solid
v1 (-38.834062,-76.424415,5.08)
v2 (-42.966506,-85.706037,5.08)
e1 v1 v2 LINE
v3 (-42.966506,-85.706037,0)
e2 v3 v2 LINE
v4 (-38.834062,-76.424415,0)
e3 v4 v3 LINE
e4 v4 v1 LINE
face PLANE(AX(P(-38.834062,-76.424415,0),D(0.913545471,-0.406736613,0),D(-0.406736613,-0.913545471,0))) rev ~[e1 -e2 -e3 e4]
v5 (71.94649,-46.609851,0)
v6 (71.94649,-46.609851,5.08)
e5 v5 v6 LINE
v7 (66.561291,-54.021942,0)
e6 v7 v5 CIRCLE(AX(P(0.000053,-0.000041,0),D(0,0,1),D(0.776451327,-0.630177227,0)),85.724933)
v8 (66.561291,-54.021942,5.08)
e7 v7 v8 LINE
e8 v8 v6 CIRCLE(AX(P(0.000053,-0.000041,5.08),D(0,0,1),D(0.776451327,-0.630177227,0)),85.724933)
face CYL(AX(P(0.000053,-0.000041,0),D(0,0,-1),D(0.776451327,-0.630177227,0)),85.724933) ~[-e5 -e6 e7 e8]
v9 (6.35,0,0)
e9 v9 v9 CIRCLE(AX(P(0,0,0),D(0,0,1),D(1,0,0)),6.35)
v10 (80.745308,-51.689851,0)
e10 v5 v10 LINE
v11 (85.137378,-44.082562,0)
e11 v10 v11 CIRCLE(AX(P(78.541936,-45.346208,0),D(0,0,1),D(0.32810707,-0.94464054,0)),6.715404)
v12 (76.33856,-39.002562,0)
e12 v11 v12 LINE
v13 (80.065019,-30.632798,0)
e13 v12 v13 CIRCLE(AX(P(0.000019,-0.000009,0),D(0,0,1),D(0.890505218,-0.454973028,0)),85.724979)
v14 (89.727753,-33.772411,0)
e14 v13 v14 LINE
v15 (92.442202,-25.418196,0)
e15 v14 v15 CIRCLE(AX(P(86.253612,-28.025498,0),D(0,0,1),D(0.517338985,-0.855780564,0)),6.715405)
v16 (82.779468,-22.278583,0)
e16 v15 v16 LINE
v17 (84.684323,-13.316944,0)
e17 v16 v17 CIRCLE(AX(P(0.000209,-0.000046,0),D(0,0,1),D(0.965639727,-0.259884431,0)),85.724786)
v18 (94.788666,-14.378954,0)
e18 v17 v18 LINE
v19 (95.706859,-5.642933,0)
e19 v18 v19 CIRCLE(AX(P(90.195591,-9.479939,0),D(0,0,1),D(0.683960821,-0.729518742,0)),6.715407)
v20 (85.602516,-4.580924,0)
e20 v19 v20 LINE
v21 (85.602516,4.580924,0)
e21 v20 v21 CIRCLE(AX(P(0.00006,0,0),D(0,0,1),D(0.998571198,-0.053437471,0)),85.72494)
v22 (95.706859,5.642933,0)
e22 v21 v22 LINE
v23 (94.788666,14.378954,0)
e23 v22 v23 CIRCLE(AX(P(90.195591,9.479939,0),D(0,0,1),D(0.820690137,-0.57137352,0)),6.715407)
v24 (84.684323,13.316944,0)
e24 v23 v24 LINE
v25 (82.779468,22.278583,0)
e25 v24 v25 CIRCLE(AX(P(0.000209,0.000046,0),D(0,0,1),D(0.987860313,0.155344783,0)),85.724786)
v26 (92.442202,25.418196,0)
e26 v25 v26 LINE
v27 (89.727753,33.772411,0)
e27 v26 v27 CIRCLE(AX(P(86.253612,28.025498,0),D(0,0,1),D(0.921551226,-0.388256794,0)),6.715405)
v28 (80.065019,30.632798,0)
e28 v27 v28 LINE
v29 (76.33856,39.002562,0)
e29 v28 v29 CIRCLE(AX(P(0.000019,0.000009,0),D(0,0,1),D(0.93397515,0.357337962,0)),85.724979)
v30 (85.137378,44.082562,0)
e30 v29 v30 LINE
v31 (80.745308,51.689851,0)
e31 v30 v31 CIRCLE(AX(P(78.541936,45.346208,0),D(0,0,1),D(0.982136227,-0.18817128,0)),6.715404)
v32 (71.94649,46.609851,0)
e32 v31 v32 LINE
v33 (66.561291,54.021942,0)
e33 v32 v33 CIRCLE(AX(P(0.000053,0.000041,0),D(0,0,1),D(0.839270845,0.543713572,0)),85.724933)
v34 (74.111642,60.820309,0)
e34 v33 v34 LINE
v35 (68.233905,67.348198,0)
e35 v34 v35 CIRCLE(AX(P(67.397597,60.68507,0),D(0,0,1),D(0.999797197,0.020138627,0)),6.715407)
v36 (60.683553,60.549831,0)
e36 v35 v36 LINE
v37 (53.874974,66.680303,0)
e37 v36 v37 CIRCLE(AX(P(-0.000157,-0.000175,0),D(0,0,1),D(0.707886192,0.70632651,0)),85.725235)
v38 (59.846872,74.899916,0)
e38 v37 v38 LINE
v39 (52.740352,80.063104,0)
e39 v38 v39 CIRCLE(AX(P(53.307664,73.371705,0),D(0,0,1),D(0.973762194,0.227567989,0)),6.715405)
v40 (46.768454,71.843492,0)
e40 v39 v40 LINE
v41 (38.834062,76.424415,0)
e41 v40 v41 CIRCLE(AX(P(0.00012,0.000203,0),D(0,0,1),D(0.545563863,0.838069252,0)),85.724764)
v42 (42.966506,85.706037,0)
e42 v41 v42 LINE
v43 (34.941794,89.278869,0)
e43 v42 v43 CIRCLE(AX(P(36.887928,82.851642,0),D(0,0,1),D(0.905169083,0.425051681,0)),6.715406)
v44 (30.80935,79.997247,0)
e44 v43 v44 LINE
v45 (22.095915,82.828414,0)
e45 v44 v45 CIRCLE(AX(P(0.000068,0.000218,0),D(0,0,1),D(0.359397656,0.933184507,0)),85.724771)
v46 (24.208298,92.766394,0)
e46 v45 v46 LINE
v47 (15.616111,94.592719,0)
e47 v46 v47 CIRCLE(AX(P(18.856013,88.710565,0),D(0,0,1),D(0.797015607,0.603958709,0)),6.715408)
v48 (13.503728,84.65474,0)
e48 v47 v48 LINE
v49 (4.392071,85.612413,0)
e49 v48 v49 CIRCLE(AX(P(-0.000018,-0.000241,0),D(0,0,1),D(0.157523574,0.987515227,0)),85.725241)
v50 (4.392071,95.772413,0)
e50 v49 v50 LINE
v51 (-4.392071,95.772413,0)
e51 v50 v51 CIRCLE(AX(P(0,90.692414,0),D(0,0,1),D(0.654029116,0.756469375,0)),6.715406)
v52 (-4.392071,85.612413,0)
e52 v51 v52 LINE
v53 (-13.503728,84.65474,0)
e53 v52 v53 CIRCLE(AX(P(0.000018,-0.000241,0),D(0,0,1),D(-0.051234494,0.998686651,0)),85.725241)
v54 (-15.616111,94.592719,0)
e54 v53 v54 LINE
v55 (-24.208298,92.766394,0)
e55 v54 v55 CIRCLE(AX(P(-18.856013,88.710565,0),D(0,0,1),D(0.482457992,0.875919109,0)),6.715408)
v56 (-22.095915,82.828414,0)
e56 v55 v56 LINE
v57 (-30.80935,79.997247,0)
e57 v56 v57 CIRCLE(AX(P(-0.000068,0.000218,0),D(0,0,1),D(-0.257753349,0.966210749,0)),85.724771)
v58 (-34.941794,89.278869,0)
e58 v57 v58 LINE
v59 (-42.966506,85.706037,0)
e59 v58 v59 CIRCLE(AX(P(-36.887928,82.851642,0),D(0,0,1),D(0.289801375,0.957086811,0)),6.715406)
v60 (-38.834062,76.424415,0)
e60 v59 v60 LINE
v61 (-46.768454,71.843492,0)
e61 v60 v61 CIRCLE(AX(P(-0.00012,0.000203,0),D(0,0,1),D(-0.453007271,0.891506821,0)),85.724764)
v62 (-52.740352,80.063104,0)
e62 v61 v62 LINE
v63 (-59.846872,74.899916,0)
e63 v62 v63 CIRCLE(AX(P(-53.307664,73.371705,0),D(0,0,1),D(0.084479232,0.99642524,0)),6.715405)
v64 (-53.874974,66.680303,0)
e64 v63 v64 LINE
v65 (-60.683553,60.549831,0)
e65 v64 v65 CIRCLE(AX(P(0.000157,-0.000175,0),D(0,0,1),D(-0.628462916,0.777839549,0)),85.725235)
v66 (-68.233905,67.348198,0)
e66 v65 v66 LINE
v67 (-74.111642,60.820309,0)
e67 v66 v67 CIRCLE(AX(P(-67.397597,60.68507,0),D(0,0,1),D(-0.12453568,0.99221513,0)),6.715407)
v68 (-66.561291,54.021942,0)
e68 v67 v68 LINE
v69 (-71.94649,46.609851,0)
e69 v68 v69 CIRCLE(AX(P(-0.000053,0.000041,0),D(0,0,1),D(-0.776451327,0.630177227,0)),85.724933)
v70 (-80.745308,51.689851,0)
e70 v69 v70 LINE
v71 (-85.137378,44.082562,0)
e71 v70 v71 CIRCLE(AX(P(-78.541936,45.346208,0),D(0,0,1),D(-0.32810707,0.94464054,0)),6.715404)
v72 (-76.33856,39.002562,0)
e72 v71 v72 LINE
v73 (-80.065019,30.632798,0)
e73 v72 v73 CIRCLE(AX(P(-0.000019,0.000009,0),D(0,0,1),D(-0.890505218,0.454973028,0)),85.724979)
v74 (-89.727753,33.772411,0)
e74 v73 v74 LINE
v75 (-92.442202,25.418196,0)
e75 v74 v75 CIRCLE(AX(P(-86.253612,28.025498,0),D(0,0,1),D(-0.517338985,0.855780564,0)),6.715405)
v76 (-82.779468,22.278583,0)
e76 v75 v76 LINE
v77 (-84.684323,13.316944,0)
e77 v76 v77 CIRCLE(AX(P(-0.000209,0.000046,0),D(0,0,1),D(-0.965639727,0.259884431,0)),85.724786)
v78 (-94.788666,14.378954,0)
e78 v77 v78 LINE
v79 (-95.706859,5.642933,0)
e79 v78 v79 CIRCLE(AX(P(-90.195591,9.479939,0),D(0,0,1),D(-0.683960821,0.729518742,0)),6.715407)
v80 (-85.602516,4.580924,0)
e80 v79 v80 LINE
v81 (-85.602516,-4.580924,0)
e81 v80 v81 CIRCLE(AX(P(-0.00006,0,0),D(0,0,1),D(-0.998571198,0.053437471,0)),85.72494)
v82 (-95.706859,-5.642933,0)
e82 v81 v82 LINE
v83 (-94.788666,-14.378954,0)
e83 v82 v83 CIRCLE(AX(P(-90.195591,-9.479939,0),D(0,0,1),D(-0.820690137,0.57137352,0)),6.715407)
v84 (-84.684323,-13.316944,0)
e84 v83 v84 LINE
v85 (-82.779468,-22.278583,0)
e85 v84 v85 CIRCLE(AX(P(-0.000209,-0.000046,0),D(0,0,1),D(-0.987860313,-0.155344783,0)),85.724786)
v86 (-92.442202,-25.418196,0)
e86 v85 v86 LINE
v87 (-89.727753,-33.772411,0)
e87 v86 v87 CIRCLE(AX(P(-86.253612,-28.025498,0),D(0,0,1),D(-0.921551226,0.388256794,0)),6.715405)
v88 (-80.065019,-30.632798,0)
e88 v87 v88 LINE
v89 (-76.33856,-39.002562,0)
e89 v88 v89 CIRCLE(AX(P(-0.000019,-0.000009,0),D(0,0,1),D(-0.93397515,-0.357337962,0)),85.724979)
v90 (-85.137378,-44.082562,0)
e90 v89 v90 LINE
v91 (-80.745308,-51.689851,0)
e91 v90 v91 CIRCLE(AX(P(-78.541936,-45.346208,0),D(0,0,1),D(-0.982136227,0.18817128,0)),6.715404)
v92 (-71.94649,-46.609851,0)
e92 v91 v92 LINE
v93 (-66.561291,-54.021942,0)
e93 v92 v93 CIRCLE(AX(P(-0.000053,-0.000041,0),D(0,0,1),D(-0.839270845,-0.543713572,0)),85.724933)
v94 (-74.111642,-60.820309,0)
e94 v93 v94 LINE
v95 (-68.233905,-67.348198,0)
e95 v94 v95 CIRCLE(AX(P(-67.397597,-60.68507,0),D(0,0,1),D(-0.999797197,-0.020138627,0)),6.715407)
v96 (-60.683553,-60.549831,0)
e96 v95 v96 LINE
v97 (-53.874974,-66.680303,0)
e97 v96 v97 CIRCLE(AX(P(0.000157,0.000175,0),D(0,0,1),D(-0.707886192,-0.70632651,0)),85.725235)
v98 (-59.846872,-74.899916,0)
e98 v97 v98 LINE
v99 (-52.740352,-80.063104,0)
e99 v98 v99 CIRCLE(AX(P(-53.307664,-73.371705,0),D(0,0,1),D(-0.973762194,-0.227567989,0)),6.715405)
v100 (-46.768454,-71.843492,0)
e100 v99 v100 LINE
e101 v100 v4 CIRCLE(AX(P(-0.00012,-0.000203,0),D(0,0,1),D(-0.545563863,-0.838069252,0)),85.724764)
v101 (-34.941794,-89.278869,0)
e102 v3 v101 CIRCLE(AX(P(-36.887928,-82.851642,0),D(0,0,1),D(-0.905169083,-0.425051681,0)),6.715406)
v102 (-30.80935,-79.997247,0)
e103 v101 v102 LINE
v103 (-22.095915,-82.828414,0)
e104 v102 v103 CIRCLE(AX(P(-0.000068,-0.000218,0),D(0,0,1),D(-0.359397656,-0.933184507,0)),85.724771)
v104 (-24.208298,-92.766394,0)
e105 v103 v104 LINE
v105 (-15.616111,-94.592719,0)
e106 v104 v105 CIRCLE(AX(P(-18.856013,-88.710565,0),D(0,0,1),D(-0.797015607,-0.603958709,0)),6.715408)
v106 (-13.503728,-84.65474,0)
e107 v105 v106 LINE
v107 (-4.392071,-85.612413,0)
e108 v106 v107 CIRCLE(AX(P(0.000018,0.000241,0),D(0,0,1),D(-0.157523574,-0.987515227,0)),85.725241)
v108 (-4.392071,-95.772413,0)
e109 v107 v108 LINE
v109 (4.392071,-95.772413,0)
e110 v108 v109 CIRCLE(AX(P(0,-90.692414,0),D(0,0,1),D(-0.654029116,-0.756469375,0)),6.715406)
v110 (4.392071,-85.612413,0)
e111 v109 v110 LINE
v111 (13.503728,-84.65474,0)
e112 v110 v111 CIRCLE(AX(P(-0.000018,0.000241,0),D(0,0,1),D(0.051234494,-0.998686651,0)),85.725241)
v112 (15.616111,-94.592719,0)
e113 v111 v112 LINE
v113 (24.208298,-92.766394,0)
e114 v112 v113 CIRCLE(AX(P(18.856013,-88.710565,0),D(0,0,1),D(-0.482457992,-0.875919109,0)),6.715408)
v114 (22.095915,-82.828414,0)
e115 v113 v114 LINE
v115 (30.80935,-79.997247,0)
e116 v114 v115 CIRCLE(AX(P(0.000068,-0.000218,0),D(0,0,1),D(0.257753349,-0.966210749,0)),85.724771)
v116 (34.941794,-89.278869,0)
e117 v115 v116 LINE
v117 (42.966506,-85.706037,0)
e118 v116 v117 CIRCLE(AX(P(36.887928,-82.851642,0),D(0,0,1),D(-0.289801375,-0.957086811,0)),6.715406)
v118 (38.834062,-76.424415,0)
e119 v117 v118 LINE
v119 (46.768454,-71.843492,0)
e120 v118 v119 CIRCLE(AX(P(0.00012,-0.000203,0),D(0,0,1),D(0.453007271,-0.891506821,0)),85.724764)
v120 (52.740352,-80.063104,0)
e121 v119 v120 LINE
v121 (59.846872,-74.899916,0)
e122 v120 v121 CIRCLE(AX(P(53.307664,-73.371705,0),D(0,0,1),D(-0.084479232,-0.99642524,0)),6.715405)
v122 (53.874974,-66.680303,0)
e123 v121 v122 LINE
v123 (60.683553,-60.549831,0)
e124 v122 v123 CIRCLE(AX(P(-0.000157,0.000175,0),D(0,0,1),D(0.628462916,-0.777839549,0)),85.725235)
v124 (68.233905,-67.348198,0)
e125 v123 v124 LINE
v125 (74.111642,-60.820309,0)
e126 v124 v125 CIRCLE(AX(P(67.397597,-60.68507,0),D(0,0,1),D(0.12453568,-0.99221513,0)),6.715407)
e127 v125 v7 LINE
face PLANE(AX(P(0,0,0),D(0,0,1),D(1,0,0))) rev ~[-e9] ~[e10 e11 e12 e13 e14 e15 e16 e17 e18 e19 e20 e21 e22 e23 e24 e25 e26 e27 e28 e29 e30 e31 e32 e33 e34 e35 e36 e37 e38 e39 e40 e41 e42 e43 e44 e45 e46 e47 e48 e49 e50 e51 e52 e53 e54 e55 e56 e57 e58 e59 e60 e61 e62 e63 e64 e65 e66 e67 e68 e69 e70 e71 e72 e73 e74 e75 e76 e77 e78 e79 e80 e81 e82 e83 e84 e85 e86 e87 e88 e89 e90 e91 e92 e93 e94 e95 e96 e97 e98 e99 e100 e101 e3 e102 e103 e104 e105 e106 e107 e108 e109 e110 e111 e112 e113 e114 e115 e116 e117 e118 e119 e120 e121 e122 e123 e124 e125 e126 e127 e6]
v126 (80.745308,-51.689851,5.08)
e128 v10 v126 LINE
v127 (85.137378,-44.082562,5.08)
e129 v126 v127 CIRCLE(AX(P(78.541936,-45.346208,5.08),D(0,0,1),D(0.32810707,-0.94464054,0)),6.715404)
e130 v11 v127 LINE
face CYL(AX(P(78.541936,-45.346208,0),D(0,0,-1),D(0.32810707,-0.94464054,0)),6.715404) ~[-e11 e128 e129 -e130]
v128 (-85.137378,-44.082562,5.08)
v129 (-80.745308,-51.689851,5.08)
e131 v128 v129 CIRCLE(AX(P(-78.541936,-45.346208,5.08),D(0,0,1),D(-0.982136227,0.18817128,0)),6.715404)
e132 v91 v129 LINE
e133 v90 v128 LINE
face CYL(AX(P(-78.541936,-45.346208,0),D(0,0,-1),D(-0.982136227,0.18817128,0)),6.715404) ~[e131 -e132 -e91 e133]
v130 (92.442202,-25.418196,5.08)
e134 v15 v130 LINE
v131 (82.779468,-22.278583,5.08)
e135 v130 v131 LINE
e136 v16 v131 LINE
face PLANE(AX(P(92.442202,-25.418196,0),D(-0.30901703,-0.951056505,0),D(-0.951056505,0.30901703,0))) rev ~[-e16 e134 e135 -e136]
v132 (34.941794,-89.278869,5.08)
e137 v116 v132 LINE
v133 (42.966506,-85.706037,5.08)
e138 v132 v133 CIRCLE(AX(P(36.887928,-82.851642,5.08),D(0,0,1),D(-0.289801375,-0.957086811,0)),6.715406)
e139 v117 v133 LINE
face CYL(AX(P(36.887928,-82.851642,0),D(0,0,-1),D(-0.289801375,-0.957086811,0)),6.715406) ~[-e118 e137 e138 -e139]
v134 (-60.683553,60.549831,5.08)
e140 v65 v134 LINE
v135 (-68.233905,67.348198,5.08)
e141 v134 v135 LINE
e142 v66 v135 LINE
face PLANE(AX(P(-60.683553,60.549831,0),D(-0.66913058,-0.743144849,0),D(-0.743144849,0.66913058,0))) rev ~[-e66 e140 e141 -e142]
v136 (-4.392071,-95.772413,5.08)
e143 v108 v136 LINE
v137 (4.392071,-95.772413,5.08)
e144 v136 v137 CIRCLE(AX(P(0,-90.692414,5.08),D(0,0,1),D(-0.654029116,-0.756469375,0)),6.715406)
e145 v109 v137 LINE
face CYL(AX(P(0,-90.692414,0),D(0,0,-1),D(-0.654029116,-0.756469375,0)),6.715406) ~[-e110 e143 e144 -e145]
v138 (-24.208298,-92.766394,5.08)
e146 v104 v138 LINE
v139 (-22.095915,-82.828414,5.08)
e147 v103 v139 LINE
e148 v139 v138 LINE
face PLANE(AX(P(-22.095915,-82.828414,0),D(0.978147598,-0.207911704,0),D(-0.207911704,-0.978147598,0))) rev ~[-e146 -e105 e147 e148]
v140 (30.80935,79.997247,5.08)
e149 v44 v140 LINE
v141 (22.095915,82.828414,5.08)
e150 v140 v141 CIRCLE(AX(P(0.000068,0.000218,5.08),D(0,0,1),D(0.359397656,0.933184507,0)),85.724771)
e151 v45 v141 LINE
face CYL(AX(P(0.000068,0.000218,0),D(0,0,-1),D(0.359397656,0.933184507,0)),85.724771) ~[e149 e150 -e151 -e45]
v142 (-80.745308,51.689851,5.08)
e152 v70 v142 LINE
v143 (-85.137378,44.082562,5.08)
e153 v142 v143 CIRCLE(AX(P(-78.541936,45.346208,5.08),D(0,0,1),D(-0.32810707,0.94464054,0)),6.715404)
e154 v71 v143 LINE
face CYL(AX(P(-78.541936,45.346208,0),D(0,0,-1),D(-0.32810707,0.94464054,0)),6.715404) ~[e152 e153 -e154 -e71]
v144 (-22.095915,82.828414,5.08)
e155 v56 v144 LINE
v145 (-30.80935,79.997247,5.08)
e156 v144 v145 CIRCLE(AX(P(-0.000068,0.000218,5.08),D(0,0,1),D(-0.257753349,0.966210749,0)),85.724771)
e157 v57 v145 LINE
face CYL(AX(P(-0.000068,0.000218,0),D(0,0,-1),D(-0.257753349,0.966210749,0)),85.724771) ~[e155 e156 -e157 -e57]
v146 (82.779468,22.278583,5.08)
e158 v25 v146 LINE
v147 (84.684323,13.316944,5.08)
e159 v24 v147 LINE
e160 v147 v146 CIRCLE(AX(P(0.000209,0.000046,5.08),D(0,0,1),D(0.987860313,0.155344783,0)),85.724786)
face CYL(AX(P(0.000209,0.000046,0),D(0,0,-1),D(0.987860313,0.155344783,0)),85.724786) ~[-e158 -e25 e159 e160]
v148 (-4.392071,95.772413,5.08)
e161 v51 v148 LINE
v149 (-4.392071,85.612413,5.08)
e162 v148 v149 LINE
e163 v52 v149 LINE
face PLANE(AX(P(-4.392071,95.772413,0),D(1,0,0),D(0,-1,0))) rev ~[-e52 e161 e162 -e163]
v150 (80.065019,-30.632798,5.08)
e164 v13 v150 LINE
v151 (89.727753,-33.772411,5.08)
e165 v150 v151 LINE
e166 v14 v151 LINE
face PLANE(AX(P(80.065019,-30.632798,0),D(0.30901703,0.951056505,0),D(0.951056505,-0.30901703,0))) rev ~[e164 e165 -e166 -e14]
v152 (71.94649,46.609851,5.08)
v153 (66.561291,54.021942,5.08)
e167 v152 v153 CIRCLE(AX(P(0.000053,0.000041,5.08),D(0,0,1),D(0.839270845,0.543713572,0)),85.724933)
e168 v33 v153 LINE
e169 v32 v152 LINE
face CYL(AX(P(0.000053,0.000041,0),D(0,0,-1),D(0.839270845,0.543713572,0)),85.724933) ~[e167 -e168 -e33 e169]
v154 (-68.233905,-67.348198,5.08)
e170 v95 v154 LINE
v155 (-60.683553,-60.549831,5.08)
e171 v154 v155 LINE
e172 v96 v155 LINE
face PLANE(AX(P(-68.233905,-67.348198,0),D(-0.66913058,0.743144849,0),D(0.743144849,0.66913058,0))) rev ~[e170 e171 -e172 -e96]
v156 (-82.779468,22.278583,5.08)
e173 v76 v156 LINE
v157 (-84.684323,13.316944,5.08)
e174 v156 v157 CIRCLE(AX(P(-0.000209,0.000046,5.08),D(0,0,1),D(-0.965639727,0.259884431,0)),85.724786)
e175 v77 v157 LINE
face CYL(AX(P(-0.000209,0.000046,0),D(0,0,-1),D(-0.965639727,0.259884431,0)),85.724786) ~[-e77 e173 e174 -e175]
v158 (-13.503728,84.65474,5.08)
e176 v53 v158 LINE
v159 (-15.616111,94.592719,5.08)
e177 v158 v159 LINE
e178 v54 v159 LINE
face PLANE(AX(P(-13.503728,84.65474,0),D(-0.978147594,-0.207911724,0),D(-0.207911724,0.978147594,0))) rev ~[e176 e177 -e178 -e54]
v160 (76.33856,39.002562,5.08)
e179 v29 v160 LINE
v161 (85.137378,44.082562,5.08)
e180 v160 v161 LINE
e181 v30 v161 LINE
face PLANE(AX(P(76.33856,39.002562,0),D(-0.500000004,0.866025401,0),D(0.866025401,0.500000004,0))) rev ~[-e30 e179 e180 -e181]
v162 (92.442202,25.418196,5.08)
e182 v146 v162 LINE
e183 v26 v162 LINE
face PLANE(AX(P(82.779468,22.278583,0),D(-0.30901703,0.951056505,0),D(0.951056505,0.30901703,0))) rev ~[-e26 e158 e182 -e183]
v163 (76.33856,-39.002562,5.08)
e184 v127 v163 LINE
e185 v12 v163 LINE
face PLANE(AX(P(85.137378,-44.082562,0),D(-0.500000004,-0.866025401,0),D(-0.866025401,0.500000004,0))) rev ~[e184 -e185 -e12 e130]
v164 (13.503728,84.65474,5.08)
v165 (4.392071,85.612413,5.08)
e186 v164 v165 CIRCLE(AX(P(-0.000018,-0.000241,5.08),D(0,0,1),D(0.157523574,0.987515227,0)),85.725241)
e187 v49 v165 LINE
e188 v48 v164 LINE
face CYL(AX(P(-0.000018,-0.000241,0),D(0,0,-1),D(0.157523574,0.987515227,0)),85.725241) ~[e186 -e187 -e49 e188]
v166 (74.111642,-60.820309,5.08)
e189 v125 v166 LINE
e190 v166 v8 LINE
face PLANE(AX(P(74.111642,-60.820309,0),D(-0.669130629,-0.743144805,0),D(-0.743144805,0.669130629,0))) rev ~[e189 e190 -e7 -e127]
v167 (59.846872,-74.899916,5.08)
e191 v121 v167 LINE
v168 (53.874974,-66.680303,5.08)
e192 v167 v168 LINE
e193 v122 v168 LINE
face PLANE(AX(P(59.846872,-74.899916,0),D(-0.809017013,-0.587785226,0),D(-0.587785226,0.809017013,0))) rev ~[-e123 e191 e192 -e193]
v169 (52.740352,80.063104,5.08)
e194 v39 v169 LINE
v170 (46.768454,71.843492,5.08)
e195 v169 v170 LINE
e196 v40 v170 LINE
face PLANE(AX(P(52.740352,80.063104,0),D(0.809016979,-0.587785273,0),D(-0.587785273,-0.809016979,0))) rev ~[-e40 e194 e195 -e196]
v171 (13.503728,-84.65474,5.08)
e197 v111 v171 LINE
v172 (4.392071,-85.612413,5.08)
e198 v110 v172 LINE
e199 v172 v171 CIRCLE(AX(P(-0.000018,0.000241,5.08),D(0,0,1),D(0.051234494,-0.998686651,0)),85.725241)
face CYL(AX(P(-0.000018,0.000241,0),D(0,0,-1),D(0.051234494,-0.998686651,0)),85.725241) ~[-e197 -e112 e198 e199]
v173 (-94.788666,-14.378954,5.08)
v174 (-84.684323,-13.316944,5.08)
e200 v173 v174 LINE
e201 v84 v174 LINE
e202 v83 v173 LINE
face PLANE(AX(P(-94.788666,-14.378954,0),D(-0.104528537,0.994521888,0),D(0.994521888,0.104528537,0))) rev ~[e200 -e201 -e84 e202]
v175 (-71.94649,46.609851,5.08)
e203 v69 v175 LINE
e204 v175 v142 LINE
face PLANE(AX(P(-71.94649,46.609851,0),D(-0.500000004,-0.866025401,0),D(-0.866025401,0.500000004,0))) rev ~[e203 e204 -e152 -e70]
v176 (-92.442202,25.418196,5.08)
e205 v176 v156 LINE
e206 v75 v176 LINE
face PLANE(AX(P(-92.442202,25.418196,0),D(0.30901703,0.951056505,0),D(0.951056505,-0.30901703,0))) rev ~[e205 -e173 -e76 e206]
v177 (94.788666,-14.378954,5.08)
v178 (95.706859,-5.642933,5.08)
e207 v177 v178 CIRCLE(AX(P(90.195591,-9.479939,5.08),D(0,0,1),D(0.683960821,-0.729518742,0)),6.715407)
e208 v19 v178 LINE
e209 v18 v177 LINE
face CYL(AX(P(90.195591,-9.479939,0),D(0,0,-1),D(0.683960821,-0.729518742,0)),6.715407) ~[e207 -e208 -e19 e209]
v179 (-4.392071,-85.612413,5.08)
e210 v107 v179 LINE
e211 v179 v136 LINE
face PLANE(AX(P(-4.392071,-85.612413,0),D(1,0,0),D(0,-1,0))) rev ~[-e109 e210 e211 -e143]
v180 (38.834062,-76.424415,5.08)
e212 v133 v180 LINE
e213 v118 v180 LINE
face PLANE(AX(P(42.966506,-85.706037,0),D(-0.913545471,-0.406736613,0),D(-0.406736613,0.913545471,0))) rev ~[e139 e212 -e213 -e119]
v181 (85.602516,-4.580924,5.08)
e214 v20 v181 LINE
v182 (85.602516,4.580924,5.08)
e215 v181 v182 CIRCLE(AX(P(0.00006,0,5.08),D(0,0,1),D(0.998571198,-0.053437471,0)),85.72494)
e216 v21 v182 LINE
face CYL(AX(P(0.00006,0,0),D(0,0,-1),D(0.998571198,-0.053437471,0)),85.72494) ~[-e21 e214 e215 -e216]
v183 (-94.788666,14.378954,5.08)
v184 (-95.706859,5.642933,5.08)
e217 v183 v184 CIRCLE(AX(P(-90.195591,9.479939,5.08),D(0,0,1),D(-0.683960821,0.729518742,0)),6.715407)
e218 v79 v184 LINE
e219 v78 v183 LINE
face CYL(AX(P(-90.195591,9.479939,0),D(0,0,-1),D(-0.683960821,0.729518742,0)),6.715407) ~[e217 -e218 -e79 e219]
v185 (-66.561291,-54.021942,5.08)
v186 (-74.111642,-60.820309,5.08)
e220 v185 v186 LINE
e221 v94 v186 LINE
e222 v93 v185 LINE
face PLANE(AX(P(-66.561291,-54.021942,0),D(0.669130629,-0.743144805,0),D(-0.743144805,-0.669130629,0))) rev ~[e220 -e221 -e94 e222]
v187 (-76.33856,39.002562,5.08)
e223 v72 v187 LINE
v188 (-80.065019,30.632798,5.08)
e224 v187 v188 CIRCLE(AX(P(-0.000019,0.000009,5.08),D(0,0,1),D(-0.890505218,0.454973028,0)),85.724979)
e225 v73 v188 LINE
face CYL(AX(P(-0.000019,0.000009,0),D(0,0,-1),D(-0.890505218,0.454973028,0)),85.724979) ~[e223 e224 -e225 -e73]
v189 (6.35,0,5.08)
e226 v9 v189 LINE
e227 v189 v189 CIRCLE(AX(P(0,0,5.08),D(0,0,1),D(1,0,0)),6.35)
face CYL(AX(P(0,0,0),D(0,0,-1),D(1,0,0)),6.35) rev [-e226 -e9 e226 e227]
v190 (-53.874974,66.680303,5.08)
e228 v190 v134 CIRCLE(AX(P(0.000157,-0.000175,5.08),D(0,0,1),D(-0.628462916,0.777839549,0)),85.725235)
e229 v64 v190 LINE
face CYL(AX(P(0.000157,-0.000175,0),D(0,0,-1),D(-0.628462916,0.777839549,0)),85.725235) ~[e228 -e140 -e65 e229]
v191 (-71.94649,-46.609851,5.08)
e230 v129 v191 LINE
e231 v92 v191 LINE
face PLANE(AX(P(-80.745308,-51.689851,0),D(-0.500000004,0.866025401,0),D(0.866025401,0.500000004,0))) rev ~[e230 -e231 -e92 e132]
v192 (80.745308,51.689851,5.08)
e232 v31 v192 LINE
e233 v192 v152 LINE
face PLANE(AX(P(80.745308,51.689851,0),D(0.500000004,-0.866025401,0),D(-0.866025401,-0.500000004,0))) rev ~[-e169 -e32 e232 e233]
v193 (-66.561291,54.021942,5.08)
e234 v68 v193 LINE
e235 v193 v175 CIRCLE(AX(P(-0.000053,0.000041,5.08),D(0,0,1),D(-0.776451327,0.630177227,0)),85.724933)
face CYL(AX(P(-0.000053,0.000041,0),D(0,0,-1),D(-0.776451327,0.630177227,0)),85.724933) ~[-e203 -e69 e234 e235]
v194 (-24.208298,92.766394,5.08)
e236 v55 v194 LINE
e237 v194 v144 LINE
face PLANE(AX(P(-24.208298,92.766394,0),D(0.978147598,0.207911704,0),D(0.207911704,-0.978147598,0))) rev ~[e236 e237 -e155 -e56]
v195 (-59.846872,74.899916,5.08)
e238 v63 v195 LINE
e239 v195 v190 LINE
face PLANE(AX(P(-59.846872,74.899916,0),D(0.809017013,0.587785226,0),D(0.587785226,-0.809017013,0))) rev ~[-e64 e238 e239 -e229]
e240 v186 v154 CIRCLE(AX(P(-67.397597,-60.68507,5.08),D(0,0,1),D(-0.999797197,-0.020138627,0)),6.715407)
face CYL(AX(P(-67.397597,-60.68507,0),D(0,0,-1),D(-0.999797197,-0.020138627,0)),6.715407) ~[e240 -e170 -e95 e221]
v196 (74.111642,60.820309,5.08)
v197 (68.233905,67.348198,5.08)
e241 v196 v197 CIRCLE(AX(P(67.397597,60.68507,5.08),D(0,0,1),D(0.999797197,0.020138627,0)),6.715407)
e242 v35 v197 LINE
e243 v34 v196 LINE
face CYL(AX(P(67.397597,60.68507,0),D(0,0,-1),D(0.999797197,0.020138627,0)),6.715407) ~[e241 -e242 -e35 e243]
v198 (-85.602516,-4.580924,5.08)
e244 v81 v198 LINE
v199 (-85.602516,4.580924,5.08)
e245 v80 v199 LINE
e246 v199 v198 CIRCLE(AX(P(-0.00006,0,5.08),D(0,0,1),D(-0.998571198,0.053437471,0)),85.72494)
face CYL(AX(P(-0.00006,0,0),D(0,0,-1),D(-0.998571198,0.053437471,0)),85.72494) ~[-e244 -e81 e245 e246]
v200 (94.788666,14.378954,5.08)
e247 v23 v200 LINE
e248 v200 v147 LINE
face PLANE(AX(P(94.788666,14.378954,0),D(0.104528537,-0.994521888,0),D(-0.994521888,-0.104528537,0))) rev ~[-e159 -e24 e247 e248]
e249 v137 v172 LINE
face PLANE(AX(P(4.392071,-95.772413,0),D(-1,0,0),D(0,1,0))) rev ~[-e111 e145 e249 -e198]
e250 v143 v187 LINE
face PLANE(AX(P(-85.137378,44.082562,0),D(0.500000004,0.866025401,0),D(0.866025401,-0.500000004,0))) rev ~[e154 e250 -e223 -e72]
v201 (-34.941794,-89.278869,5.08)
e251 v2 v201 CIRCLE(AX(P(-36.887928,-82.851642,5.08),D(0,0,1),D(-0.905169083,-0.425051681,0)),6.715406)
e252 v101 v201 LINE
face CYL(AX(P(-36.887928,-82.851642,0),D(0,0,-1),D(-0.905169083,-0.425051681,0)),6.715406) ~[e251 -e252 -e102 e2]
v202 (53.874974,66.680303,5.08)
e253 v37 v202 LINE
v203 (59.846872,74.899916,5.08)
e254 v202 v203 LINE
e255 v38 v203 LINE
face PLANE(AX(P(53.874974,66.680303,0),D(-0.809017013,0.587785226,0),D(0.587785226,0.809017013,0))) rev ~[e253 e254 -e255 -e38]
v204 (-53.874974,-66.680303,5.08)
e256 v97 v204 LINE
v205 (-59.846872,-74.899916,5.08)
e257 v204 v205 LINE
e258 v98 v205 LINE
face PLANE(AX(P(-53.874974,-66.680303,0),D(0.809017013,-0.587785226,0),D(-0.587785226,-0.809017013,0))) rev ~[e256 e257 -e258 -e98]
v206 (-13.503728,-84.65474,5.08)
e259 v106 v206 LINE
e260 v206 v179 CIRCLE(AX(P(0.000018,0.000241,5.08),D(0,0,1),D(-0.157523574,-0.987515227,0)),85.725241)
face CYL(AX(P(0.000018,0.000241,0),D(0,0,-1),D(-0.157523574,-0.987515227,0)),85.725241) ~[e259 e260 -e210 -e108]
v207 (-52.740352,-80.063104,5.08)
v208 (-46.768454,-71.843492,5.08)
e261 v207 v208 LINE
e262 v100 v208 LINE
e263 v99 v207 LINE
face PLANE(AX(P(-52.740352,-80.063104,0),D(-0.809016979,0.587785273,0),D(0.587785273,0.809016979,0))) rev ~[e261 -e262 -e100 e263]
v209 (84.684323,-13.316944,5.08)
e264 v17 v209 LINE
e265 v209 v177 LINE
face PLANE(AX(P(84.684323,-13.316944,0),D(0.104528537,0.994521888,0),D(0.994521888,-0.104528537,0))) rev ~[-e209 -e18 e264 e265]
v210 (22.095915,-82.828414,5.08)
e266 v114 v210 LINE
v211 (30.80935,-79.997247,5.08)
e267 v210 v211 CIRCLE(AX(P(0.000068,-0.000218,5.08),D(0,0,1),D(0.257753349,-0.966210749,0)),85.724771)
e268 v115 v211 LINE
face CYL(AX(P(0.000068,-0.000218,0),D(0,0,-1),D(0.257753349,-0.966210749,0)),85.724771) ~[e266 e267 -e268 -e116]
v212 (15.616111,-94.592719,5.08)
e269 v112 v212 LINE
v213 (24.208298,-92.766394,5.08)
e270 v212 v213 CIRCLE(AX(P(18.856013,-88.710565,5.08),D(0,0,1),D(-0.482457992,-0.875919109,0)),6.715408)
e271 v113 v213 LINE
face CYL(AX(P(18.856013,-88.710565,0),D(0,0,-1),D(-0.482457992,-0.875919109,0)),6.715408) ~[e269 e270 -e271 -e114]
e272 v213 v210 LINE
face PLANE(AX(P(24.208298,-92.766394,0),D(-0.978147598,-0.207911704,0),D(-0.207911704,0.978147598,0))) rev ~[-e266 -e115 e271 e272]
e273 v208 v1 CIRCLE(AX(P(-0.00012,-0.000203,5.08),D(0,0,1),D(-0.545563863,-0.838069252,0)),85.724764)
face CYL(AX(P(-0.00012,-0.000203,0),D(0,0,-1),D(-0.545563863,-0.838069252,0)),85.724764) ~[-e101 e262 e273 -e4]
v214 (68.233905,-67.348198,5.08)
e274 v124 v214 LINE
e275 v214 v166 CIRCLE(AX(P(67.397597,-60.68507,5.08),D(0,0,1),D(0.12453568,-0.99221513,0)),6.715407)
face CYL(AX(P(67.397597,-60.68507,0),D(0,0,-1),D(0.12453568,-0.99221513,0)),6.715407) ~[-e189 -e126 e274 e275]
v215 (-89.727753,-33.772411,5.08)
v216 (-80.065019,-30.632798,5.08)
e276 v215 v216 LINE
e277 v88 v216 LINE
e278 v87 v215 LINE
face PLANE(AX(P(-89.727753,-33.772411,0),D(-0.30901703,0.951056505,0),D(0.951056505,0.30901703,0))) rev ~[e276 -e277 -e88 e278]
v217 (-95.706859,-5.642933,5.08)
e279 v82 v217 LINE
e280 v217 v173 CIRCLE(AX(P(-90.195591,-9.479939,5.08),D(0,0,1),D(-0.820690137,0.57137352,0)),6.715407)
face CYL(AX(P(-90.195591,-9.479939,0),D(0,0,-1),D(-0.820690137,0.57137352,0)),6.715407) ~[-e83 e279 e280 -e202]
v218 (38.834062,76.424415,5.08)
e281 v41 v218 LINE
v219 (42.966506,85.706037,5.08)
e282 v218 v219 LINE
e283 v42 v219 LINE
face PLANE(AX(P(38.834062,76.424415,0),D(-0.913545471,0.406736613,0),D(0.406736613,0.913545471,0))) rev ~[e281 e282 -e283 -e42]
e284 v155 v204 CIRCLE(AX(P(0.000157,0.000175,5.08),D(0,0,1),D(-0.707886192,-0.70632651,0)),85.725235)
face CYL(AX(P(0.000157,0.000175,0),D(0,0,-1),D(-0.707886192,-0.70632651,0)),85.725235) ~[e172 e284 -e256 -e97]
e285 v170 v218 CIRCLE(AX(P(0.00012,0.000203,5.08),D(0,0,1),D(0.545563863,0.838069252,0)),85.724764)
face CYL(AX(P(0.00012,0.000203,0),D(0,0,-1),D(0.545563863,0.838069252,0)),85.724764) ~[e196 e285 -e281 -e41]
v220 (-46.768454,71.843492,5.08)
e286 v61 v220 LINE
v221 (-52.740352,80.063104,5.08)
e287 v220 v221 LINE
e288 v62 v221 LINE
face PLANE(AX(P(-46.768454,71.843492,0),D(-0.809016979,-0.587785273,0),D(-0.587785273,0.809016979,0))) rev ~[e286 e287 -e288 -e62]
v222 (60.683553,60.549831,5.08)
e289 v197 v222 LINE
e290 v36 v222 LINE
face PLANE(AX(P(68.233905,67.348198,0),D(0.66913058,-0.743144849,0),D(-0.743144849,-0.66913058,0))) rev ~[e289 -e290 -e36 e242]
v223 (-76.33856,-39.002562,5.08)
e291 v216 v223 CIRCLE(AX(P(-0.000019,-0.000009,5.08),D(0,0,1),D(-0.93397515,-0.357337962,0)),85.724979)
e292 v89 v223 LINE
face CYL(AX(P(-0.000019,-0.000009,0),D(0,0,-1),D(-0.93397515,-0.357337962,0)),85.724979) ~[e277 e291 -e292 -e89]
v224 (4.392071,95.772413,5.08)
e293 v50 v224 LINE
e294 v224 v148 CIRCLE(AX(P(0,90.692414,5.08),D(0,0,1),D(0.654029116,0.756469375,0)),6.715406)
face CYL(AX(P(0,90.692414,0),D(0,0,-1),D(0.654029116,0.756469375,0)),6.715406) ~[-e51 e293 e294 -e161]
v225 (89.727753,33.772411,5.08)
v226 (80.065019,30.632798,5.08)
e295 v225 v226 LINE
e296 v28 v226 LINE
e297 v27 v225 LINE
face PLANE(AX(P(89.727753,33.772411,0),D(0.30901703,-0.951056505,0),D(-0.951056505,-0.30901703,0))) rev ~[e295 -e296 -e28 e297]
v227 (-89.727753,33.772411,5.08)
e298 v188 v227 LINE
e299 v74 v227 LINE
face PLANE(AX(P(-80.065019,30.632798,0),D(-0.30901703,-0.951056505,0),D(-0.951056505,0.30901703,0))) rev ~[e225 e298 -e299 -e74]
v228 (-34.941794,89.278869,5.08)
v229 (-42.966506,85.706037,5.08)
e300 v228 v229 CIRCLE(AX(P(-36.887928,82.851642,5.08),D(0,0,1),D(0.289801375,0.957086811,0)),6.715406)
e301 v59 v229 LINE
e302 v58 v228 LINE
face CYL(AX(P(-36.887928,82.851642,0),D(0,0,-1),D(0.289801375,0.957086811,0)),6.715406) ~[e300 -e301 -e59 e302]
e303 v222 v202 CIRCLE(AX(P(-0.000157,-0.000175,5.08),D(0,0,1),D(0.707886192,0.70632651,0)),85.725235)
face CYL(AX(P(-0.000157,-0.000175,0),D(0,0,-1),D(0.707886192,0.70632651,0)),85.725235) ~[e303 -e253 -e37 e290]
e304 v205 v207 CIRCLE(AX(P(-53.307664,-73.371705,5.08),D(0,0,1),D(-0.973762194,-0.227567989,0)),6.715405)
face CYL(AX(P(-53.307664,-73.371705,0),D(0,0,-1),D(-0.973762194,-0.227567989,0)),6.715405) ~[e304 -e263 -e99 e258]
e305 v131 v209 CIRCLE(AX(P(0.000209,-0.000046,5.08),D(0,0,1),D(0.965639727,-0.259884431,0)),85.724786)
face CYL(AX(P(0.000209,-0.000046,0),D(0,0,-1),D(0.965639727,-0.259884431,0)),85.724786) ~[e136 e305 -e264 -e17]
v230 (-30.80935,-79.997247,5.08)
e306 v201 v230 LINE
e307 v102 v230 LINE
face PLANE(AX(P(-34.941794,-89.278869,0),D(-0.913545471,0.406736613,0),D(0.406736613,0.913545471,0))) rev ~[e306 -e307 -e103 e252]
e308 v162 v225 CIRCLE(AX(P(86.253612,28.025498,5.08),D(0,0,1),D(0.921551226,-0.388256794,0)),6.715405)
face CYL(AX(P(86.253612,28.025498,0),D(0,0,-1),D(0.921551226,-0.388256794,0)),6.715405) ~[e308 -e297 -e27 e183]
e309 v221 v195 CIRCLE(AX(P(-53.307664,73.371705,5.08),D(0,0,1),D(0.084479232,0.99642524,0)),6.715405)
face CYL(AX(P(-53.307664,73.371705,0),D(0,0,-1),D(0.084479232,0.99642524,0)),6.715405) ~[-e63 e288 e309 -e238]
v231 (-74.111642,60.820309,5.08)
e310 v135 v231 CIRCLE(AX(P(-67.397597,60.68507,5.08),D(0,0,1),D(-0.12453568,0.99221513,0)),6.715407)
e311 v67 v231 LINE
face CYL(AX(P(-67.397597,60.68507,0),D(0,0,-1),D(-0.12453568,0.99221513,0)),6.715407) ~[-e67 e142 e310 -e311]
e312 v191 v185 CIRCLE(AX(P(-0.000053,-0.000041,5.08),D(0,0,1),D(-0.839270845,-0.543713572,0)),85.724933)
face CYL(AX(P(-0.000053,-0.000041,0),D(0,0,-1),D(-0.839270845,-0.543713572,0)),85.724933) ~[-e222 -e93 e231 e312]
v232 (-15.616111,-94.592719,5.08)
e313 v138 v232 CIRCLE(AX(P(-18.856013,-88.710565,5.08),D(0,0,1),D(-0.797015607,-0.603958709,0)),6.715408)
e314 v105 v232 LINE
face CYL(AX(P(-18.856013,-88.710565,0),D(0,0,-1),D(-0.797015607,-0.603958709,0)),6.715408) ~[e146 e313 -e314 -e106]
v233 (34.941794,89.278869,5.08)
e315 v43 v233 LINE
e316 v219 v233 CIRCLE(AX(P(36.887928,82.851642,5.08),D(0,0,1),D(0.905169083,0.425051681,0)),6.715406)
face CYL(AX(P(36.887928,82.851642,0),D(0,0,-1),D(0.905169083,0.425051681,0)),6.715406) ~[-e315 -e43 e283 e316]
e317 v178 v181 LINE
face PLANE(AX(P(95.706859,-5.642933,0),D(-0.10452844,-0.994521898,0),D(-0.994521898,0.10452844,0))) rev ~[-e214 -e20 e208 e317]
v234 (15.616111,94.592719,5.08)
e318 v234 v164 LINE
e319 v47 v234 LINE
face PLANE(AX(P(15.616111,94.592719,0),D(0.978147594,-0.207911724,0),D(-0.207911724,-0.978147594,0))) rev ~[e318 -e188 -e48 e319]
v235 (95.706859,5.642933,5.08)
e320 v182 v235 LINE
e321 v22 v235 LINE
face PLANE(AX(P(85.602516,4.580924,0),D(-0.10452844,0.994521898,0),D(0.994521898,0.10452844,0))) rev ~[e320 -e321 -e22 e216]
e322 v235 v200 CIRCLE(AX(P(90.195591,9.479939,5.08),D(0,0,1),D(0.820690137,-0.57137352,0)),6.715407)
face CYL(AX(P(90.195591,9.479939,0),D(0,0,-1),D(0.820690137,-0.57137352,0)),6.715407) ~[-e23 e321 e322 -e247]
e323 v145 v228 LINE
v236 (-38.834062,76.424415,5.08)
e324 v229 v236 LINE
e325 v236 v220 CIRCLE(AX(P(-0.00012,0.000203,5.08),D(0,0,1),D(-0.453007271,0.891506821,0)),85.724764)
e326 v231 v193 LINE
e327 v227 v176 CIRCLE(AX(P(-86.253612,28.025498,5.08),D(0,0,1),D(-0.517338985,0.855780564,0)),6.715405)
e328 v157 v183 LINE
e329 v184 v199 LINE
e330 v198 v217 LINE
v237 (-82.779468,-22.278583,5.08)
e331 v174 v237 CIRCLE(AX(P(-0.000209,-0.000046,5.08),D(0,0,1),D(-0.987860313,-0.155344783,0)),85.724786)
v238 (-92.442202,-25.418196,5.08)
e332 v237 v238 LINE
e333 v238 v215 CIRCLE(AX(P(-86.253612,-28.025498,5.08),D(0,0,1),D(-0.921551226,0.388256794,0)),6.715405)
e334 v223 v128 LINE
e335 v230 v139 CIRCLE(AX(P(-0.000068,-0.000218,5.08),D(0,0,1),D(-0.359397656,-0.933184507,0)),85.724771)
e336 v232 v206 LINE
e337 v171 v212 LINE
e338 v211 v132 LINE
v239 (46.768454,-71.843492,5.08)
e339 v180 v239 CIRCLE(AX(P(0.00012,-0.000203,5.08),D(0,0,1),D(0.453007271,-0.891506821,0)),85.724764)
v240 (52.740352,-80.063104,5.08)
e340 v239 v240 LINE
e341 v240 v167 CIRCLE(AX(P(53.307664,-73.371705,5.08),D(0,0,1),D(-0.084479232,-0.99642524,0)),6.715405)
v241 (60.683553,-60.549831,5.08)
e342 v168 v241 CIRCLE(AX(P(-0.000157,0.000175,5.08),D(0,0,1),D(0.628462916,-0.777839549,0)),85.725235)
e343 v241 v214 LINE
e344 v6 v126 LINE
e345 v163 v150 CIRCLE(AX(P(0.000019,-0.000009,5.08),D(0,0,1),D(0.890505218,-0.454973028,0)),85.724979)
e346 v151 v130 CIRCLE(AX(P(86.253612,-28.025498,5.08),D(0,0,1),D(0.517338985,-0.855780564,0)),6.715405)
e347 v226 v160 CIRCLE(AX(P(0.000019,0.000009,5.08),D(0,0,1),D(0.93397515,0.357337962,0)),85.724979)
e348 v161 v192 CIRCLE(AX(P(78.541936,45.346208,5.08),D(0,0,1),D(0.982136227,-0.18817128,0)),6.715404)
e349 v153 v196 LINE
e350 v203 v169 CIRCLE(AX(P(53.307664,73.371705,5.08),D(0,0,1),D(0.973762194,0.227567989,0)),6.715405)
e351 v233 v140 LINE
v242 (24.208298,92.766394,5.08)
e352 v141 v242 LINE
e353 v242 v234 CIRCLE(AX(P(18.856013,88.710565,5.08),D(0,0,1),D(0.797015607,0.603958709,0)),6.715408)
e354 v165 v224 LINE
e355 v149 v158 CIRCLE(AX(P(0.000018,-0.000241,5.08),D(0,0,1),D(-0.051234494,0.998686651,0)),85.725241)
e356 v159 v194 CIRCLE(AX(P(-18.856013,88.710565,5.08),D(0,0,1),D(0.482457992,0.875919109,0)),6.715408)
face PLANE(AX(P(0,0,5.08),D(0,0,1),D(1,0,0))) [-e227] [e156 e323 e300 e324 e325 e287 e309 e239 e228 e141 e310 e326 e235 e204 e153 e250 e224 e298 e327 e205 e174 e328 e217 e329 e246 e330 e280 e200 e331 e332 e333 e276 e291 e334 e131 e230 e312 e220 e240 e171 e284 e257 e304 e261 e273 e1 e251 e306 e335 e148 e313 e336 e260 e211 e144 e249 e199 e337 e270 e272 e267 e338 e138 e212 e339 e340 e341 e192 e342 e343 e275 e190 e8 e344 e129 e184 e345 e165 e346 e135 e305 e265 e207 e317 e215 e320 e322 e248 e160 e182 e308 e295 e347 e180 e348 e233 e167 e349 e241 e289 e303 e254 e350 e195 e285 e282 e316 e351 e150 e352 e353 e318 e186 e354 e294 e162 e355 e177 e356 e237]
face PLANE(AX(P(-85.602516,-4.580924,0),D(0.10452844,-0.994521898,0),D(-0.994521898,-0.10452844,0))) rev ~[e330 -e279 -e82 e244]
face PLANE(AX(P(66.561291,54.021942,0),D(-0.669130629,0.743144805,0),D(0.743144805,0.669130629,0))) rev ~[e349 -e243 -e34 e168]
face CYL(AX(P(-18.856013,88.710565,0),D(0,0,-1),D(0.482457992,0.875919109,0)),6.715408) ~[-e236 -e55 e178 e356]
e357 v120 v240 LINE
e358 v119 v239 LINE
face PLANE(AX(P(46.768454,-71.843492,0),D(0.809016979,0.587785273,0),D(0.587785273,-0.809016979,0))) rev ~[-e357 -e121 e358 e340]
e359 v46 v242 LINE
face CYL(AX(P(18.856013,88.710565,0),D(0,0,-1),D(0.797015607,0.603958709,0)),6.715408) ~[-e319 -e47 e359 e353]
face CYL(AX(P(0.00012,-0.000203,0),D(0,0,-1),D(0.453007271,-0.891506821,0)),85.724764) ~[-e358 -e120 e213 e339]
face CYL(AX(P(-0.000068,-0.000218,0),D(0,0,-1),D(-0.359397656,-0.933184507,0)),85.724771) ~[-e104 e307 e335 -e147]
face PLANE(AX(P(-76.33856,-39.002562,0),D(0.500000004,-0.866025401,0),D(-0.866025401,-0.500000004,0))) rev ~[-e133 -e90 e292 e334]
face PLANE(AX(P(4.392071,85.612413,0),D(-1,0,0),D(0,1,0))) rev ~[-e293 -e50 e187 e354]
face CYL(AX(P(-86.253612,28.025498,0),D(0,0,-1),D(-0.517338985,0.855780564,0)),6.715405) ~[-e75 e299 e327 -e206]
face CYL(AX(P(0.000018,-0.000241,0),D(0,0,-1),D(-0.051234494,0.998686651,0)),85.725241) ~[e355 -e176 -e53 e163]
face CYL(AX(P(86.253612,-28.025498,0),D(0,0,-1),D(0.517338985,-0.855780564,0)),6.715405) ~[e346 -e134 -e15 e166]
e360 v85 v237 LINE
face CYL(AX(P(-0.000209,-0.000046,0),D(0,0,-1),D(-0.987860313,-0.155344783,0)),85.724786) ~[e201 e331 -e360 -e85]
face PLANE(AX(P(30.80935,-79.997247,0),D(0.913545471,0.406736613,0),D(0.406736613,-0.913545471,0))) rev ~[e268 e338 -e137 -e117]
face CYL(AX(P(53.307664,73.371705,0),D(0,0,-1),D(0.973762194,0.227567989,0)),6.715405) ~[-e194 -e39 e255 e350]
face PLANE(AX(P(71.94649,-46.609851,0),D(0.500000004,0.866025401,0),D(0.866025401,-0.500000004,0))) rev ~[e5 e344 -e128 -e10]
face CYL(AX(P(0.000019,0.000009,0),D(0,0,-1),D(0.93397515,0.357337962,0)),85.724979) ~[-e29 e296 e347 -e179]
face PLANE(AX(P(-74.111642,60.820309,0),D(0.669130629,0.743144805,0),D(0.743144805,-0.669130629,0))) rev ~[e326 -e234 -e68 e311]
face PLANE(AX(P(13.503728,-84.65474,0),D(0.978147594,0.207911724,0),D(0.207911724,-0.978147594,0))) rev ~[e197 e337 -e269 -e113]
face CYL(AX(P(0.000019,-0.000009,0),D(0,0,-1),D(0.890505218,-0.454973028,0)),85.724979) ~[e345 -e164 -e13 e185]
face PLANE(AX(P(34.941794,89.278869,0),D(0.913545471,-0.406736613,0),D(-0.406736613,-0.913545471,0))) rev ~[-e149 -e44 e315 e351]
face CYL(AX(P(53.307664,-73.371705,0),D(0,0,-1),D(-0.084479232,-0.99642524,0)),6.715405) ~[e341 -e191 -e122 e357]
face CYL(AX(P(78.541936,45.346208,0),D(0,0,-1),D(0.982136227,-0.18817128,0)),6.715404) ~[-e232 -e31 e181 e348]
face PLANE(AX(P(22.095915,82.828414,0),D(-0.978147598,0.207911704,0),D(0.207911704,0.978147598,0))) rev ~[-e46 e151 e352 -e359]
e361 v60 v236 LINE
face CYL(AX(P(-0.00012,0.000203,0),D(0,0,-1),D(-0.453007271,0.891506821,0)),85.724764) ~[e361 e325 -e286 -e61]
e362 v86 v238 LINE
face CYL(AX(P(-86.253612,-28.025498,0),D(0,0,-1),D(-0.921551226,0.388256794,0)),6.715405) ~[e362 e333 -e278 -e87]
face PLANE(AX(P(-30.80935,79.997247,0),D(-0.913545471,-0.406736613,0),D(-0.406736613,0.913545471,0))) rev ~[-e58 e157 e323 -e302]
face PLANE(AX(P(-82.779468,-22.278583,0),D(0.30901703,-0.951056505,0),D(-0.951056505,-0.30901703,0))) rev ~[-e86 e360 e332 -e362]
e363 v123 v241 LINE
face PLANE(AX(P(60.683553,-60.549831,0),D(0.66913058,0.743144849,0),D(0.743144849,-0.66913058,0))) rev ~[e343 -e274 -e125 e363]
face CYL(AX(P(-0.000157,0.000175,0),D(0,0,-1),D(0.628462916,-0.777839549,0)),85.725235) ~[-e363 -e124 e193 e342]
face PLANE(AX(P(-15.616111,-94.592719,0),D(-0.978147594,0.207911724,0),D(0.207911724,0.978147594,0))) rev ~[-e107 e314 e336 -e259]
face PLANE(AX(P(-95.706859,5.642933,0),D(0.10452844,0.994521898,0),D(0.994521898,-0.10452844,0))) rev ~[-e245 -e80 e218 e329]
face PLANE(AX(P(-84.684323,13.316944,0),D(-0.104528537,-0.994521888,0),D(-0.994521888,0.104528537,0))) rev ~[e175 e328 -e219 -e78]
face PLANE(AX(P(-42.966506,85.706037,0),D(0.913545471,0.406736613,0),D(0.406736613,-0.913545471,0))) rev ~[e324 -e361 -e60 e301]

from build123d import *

# Parameters (mm, degrees)
F0_R     = 6.35
F1_DEPTH = 5.08


with BuildPart() as f1:
    # F0 (on Top) → F1 (new body)
    with BuildSketch(Plane.XY):
        with BuildLine():
            Line((-4.392071, 95.772413), (-4.392071, 85.612413))
            ThreePointArc((-4.392071, 85.612413), (-8.960703, 85.255389), (-13.503728, 84.65474))
            Line((-13.503728, 84.65474), (-15.616111, 94.592719))
            ThreePointArc((-15.616111, 94.592719), (-20.252225, 95.279225), (-24.208298, 92.766394))
            Line((-24.208298, 92.766394), (-22.095915, 82.828414))
            ThreePointArc((-22.095915, 82.828414), (-26.490482, 81.52932), (-30.80935, 79.997247))
            Line((-30.80935, 79.997247), (-34.941794, 89.278869))
            ThreePointArc((-34.941794, 89.278869), (-39.61933, 88.986471), (-42.966506, 85.706037))
            Line((-42.966506, 85.706037), (-38.834062, 76.424415))
            ThreePointArc((-38.834062, 76.424415), (-42.8625, 74.240028), (-46.768454, 71.843492))
            Line((-46.768454, 71.843492), (-52.740352, 80.063104))
            ThreePointArc((-52.740352, 80.063104), (-57.25488, 78.804582), (-59.846872, 74.899916))
            Line((-59.846872, 74.899916), (-53.874974, 66.680303))
            ThreePointArc((-53.874974, 66.680303), (-57.361221, 63.70609), (-60.683553, 60.549831))
            Line((-60.683553, 60.549831), (-68.233905, 67.348198))
            ThreePointArc((-68.233905, 67.348198), (-72.388117, 65.178554), (-74.111642, 60.820309))
            Line((-74.111642, 60.820309), (-66.561291, 54.021942))
            ThreePointArc((-66.561291, 54.021942), (-69.352982, 50.387891), (-71.94649, 46.609851))
            Line((-71.94649, 46.609851), (-80.745308, 51.689851))
            ThreePointArc((-80.745308, 51.689851), (-84.357647, 48.70391), (-85.137378, 44.082562))
            Line((-85.137378, 44.082562), (-76.33856, 39.002562))
            ThreePointArc((-76.33856, 39.002562), (-78.313684, 34.867499), (-80.065019, 30.632798))
            Line((-80.065019, 30.632798), (-89.727753, 33.772411))
            ThreePointArc((-89.727753, 33.772411), (-92.640342, 30.100672), (-92.442202, 25.418196))
            Line((-92.442202, 25.418196), (-82.779468, 22.278583))
            ThreePointArc((-82.779468, 22.278583), (-83.851703, 17.82323), (-84.684323, 13.316944))
            Line((-84.684323, 13.316944), (-94.788666, 14.378954))
            ThreePointArc((-94.788666, 14.378954), (-96.87421, 10.18189), (-95.706859, 5.642933))
            Line((-95.706859, 5.642933), (-85.602516, 4.580924))
            ThreePointArc((-85.602516, 4.580924), (-85.725, 0), (-85.602516, -4.580924))
            Line((-85.602516, -4.580924), (-95.706859, -5.642933))
            ThreePointArc((-95.706859, -5.642933), (-96.87421, -10.18189), (-94.788666, -14.378954))
            Line((-94.788666, -14.378954), (-84.684323, -13.316944))
            ThreePointArc((-84.684323, -13.316944), (-83.851703, -17.82323), (-82.779468, -22.278583))
            Line((-82.779468, -22.278583), (-92.442202, -25.418196))
            ThreePointArc((-92.442202, -25.418196), (-92.640342, -30.100672), (-89.727753, -33.772411))
            Line((-89.727753, -33.772411), (-80.065019, -30.632798))
            ThreePointArc((-80.065019, -30.632798), (-78.313684, -34.867499), (-76.33856, -39.002562))
            Line((-76.33856, -39.002562), (-85.137378, -44.082562))
            ThreePointArc((-85.137378, -44.082562), (-84.357647, -48.70391), (-80.745308, -51.689851))
            Line((-80.745308, -51.689851), (-71.94649, -46.609851))
            ThreePointArc((-71.94649, -46.609851), (-69.352982, -50.387891), (-66.561291, -54.021942))
            Line((-66.561291, -54.021942), (-74.111642, -60.820309))
            ThreePointArc((-74.111642, -60.820309), (-72.388117, -65.178554), (-68.233905, -67.348198))
            Line((-68.233905, -67.348198), (-60.683553, -60.549831))
            ThreePointArc((-60.683553, -60.549831), (-57.361221, -63.70609), (-53.874974, -66.680303))
            Line((-53.874974, -66.680303), (-59.846872, -74.899916))
            ThreePointArc((-59.846872, -74.899916), (-57.25488, -78.804582), (-52.740352, -80.063104))
            Line((-52.740352, -80.063104), (-46.768454, -71.843492))
            ThreePointArc((-46.768454, -71.843492), (-42.8625, -74.240028), (-38.834062, -76.424415))
            Line((-38.834062, -76.424415), (-42.966506, -85.706037))
            ThreePointArc((-42.966506, -85.706037), (-39.61933, -88.986471), (-34.941794, -89.278869))
            Line((-34.941794, -89.278869), (-30.80935, -79.997247))
            ThreePointArc((-30.80935, -79.997247), (-26.490482, -81.52932), (-22.095915, -82.828414))
            Line((-22.095915, -82.828414), (-24.208298, -92.766394))
            ThreePointArc((-24.208298, -92.766394), (-20.252225, -95.279225), (-15.616111, -94.592719))
            Line((-15.616111, -94.592719), (-13.503728, -84.65474))
            ThreePointArc((-13.503728, -84.65474), (-8.960703, -85.255389), (-4.392071, -85.612413))
            Line((-4.392071, -85.612413), (-4.392071, -95.772413))
            ThreePointArc((-4.392071, -95.772413), (0, -97.40782), (4.392071, -95.772413))
            Line((4.392071, -95.772413), (4.392071, -85.612413))
            ThreePointArc((4.392071, -85.612413), (8.960703, -85.255389), (13.503728, -84.65474))
            Line((13.503728, -84.65474), (15.616111, -94.592719))
            ThreePointArc((15.616111, -94.592719), (20.252225, -95.279225), (24.208298, -92.766394))
            Line((24.208298, -92.766394), (22.095915, -82.828414))
            ThreePointArc((22.095915, -82.828414), (26.490482, -81.52932), (30.80935, -79.997247))
            Line((30.80935, -79.997247), (34.941794, -89.278869))
            ThreePointArc((34.941794, -89.278869), (39.61933, -88.986471), (42.966506, -85.706037))
            Line((42.966506, -85.706037), (38.834062, -76.424415))
            ThreePointArc((38.834062, -76.424415), (42.8625, -74.240028), (46.768454, -71.843492))
            Line((46.768454, -71.843492), (52.740352, -80.063104))
            ThreePointArc((52.740352, -80.063104), (57.25488, -78.804582), (59.846872, -74.899916))
            Line((59.846872, -74.899916), (53.874974, -66.680303))
            ThreePointArc((53.874974, -66.680303), (57.361221, -63.70609), (60.683553, -60.549831))
            Line((60.683553, -60.549831), (68.233905, -67.348198))
            ThreePointArc((68.233905, -67.348198), (72.388117, -65.178554), (74.111642, -60.820309))
            Line((74.111642, -60.820309), (66.561291, -54.021942))
            ThreePointArc((66.561291, -54.021942), (69.352982, -50.387891), (71.94649, -46.609851))
            Line((71.94649, -46.609851), (80.745308, -51.689851))
            ThreePointArc((80.745308, -51.689851), (84.357647, -48.70391), (85.137378, -44.082562))
            Line((85.137378, -44.082562), (76.33856, -39.002562))
            ThreePointArc((76.33856, -39.002562), (78.313684, -34.867499), (80.065019, -30.632798))
            Line((80.065019, -30.632798), (89.727753, -33.772411))
            ThreePointArc((89.727753, -33.772411), (92.640342, -30.100672), (92.442202, -25.418196))
            Line((92.442202, -25.418196), (82.779468, -22.278583))
            ThreePointArc((82.779468, -22.278583), (83.851703, -17.82323), (84.684323, -13.316944))
            Line((84.684323, -13.316944), (94.788666, -14.378954))
            ThreePointArc((94.788666, -14.378954), (96.87421, -10.18189), (95.706859, -5.642933))
            Line((95.706859, -5.642933), (85.602516, -4.580924))
            ThreePointArc((85.602516, -4.580924), (85.725, 0), (85.602516, 4.580924))
            Line((85.602516, 4.580924), (95.706859, 5.642933))
            ThreePointArc((95.706859, 5.642933), (96.87421, 10.18189), (94.788666, 14.378954))
            Line((94.788666, 14.378954), (84.684323, 13.316944))
            ThreePointArc((84.684323, 13.316944), (83.851703, 17.82323), (82.779468, 22.278583))
            Line((82.779468, 22.278583), (92.442202, 25.418196))
            ThreePointArc((92.442202, 25.418196), (92.640342, 30.100672), (89.727753, 33.772411))
            Line((89.727753, 33.772411), (80.065019, 30.632798))
            ThreePointArc((80.065019, 30.632798), (78.313684, 34.867499), (76.33856, 39.002562))
            Line((76.33856, 39.002562), (85.137378, 44.082562))
            ThreePointArc((85.137378, 44.082562), (84.357647, 48.70391), (80.745308, 51.689851))
            Line((80.745308, 51.689851), (71.94649, 46.609851))
            ThreePointArc((71.94649, 46.609851), (69.352982, 50.387891), (66.561291, 54.021942))
            Line((66.561291, 54.021942), (74.111642, 60.820309))
            ThreePointArc((74.111642, 60.820309), (72.388117, 65.178554), (68.233905, 67.348198))
            Line((68.233905, 67.348198), (60.683553, 60.549831))
            ThreePointArc((60.683553, 60.549831), (57.361221, 63.70609), (53.874974, 66.680303))
            Line((53.874974, 66.680303), (59.846872, 74.899916))
            ThreePointArc((59.846872, 74.899916), (57.25488, 78.804582), (52.740352, 80.063104))
            Line((52.740352, 80.063104), (46.768454, 71.843492))
            ThreePointArc((46.768454, 71.843492), (42.8625, 74.240028), (38.834062, 76.424415))
            Line((38.834062, 76.424415), (42.966506, 85.706037))
            ThreePointArc((42.966506, 85.706037), (39.61933, 88.986471), (34.941794, 89.278869))
            Line((34.941794, 89.278869), (30.80935, 79.997247))
            ThreePointArc((30.80935, 79.997247), (26.490482, 81.52932), (22.095915, 82.828414))
            Line((22.095915, 82.828414), (24.208298, 92.766394))
            ThreePointArc((24.208298, 92.766394), (20.252225, 95.279225), (15.616111, 94.592719))
            Line((15.616111, 94.592719), (13.503728, 84.65474))
            ThreePointArc((13.503728, 84.65474), (8.960703, 85.255389), (4.392071, 85.612413))
            Line((4.392071, 85.612413), (4.392071, 95.772413))
            ThreePointArc((4.392071, 95.772413), (0, 97.40782), (-4.392071, 95.772413))
        make_face()
        Circle(F0_R, mode=Mode.SUBTRACT)
    extrude(amount=F1_DEPTH)


solid = f1.part
